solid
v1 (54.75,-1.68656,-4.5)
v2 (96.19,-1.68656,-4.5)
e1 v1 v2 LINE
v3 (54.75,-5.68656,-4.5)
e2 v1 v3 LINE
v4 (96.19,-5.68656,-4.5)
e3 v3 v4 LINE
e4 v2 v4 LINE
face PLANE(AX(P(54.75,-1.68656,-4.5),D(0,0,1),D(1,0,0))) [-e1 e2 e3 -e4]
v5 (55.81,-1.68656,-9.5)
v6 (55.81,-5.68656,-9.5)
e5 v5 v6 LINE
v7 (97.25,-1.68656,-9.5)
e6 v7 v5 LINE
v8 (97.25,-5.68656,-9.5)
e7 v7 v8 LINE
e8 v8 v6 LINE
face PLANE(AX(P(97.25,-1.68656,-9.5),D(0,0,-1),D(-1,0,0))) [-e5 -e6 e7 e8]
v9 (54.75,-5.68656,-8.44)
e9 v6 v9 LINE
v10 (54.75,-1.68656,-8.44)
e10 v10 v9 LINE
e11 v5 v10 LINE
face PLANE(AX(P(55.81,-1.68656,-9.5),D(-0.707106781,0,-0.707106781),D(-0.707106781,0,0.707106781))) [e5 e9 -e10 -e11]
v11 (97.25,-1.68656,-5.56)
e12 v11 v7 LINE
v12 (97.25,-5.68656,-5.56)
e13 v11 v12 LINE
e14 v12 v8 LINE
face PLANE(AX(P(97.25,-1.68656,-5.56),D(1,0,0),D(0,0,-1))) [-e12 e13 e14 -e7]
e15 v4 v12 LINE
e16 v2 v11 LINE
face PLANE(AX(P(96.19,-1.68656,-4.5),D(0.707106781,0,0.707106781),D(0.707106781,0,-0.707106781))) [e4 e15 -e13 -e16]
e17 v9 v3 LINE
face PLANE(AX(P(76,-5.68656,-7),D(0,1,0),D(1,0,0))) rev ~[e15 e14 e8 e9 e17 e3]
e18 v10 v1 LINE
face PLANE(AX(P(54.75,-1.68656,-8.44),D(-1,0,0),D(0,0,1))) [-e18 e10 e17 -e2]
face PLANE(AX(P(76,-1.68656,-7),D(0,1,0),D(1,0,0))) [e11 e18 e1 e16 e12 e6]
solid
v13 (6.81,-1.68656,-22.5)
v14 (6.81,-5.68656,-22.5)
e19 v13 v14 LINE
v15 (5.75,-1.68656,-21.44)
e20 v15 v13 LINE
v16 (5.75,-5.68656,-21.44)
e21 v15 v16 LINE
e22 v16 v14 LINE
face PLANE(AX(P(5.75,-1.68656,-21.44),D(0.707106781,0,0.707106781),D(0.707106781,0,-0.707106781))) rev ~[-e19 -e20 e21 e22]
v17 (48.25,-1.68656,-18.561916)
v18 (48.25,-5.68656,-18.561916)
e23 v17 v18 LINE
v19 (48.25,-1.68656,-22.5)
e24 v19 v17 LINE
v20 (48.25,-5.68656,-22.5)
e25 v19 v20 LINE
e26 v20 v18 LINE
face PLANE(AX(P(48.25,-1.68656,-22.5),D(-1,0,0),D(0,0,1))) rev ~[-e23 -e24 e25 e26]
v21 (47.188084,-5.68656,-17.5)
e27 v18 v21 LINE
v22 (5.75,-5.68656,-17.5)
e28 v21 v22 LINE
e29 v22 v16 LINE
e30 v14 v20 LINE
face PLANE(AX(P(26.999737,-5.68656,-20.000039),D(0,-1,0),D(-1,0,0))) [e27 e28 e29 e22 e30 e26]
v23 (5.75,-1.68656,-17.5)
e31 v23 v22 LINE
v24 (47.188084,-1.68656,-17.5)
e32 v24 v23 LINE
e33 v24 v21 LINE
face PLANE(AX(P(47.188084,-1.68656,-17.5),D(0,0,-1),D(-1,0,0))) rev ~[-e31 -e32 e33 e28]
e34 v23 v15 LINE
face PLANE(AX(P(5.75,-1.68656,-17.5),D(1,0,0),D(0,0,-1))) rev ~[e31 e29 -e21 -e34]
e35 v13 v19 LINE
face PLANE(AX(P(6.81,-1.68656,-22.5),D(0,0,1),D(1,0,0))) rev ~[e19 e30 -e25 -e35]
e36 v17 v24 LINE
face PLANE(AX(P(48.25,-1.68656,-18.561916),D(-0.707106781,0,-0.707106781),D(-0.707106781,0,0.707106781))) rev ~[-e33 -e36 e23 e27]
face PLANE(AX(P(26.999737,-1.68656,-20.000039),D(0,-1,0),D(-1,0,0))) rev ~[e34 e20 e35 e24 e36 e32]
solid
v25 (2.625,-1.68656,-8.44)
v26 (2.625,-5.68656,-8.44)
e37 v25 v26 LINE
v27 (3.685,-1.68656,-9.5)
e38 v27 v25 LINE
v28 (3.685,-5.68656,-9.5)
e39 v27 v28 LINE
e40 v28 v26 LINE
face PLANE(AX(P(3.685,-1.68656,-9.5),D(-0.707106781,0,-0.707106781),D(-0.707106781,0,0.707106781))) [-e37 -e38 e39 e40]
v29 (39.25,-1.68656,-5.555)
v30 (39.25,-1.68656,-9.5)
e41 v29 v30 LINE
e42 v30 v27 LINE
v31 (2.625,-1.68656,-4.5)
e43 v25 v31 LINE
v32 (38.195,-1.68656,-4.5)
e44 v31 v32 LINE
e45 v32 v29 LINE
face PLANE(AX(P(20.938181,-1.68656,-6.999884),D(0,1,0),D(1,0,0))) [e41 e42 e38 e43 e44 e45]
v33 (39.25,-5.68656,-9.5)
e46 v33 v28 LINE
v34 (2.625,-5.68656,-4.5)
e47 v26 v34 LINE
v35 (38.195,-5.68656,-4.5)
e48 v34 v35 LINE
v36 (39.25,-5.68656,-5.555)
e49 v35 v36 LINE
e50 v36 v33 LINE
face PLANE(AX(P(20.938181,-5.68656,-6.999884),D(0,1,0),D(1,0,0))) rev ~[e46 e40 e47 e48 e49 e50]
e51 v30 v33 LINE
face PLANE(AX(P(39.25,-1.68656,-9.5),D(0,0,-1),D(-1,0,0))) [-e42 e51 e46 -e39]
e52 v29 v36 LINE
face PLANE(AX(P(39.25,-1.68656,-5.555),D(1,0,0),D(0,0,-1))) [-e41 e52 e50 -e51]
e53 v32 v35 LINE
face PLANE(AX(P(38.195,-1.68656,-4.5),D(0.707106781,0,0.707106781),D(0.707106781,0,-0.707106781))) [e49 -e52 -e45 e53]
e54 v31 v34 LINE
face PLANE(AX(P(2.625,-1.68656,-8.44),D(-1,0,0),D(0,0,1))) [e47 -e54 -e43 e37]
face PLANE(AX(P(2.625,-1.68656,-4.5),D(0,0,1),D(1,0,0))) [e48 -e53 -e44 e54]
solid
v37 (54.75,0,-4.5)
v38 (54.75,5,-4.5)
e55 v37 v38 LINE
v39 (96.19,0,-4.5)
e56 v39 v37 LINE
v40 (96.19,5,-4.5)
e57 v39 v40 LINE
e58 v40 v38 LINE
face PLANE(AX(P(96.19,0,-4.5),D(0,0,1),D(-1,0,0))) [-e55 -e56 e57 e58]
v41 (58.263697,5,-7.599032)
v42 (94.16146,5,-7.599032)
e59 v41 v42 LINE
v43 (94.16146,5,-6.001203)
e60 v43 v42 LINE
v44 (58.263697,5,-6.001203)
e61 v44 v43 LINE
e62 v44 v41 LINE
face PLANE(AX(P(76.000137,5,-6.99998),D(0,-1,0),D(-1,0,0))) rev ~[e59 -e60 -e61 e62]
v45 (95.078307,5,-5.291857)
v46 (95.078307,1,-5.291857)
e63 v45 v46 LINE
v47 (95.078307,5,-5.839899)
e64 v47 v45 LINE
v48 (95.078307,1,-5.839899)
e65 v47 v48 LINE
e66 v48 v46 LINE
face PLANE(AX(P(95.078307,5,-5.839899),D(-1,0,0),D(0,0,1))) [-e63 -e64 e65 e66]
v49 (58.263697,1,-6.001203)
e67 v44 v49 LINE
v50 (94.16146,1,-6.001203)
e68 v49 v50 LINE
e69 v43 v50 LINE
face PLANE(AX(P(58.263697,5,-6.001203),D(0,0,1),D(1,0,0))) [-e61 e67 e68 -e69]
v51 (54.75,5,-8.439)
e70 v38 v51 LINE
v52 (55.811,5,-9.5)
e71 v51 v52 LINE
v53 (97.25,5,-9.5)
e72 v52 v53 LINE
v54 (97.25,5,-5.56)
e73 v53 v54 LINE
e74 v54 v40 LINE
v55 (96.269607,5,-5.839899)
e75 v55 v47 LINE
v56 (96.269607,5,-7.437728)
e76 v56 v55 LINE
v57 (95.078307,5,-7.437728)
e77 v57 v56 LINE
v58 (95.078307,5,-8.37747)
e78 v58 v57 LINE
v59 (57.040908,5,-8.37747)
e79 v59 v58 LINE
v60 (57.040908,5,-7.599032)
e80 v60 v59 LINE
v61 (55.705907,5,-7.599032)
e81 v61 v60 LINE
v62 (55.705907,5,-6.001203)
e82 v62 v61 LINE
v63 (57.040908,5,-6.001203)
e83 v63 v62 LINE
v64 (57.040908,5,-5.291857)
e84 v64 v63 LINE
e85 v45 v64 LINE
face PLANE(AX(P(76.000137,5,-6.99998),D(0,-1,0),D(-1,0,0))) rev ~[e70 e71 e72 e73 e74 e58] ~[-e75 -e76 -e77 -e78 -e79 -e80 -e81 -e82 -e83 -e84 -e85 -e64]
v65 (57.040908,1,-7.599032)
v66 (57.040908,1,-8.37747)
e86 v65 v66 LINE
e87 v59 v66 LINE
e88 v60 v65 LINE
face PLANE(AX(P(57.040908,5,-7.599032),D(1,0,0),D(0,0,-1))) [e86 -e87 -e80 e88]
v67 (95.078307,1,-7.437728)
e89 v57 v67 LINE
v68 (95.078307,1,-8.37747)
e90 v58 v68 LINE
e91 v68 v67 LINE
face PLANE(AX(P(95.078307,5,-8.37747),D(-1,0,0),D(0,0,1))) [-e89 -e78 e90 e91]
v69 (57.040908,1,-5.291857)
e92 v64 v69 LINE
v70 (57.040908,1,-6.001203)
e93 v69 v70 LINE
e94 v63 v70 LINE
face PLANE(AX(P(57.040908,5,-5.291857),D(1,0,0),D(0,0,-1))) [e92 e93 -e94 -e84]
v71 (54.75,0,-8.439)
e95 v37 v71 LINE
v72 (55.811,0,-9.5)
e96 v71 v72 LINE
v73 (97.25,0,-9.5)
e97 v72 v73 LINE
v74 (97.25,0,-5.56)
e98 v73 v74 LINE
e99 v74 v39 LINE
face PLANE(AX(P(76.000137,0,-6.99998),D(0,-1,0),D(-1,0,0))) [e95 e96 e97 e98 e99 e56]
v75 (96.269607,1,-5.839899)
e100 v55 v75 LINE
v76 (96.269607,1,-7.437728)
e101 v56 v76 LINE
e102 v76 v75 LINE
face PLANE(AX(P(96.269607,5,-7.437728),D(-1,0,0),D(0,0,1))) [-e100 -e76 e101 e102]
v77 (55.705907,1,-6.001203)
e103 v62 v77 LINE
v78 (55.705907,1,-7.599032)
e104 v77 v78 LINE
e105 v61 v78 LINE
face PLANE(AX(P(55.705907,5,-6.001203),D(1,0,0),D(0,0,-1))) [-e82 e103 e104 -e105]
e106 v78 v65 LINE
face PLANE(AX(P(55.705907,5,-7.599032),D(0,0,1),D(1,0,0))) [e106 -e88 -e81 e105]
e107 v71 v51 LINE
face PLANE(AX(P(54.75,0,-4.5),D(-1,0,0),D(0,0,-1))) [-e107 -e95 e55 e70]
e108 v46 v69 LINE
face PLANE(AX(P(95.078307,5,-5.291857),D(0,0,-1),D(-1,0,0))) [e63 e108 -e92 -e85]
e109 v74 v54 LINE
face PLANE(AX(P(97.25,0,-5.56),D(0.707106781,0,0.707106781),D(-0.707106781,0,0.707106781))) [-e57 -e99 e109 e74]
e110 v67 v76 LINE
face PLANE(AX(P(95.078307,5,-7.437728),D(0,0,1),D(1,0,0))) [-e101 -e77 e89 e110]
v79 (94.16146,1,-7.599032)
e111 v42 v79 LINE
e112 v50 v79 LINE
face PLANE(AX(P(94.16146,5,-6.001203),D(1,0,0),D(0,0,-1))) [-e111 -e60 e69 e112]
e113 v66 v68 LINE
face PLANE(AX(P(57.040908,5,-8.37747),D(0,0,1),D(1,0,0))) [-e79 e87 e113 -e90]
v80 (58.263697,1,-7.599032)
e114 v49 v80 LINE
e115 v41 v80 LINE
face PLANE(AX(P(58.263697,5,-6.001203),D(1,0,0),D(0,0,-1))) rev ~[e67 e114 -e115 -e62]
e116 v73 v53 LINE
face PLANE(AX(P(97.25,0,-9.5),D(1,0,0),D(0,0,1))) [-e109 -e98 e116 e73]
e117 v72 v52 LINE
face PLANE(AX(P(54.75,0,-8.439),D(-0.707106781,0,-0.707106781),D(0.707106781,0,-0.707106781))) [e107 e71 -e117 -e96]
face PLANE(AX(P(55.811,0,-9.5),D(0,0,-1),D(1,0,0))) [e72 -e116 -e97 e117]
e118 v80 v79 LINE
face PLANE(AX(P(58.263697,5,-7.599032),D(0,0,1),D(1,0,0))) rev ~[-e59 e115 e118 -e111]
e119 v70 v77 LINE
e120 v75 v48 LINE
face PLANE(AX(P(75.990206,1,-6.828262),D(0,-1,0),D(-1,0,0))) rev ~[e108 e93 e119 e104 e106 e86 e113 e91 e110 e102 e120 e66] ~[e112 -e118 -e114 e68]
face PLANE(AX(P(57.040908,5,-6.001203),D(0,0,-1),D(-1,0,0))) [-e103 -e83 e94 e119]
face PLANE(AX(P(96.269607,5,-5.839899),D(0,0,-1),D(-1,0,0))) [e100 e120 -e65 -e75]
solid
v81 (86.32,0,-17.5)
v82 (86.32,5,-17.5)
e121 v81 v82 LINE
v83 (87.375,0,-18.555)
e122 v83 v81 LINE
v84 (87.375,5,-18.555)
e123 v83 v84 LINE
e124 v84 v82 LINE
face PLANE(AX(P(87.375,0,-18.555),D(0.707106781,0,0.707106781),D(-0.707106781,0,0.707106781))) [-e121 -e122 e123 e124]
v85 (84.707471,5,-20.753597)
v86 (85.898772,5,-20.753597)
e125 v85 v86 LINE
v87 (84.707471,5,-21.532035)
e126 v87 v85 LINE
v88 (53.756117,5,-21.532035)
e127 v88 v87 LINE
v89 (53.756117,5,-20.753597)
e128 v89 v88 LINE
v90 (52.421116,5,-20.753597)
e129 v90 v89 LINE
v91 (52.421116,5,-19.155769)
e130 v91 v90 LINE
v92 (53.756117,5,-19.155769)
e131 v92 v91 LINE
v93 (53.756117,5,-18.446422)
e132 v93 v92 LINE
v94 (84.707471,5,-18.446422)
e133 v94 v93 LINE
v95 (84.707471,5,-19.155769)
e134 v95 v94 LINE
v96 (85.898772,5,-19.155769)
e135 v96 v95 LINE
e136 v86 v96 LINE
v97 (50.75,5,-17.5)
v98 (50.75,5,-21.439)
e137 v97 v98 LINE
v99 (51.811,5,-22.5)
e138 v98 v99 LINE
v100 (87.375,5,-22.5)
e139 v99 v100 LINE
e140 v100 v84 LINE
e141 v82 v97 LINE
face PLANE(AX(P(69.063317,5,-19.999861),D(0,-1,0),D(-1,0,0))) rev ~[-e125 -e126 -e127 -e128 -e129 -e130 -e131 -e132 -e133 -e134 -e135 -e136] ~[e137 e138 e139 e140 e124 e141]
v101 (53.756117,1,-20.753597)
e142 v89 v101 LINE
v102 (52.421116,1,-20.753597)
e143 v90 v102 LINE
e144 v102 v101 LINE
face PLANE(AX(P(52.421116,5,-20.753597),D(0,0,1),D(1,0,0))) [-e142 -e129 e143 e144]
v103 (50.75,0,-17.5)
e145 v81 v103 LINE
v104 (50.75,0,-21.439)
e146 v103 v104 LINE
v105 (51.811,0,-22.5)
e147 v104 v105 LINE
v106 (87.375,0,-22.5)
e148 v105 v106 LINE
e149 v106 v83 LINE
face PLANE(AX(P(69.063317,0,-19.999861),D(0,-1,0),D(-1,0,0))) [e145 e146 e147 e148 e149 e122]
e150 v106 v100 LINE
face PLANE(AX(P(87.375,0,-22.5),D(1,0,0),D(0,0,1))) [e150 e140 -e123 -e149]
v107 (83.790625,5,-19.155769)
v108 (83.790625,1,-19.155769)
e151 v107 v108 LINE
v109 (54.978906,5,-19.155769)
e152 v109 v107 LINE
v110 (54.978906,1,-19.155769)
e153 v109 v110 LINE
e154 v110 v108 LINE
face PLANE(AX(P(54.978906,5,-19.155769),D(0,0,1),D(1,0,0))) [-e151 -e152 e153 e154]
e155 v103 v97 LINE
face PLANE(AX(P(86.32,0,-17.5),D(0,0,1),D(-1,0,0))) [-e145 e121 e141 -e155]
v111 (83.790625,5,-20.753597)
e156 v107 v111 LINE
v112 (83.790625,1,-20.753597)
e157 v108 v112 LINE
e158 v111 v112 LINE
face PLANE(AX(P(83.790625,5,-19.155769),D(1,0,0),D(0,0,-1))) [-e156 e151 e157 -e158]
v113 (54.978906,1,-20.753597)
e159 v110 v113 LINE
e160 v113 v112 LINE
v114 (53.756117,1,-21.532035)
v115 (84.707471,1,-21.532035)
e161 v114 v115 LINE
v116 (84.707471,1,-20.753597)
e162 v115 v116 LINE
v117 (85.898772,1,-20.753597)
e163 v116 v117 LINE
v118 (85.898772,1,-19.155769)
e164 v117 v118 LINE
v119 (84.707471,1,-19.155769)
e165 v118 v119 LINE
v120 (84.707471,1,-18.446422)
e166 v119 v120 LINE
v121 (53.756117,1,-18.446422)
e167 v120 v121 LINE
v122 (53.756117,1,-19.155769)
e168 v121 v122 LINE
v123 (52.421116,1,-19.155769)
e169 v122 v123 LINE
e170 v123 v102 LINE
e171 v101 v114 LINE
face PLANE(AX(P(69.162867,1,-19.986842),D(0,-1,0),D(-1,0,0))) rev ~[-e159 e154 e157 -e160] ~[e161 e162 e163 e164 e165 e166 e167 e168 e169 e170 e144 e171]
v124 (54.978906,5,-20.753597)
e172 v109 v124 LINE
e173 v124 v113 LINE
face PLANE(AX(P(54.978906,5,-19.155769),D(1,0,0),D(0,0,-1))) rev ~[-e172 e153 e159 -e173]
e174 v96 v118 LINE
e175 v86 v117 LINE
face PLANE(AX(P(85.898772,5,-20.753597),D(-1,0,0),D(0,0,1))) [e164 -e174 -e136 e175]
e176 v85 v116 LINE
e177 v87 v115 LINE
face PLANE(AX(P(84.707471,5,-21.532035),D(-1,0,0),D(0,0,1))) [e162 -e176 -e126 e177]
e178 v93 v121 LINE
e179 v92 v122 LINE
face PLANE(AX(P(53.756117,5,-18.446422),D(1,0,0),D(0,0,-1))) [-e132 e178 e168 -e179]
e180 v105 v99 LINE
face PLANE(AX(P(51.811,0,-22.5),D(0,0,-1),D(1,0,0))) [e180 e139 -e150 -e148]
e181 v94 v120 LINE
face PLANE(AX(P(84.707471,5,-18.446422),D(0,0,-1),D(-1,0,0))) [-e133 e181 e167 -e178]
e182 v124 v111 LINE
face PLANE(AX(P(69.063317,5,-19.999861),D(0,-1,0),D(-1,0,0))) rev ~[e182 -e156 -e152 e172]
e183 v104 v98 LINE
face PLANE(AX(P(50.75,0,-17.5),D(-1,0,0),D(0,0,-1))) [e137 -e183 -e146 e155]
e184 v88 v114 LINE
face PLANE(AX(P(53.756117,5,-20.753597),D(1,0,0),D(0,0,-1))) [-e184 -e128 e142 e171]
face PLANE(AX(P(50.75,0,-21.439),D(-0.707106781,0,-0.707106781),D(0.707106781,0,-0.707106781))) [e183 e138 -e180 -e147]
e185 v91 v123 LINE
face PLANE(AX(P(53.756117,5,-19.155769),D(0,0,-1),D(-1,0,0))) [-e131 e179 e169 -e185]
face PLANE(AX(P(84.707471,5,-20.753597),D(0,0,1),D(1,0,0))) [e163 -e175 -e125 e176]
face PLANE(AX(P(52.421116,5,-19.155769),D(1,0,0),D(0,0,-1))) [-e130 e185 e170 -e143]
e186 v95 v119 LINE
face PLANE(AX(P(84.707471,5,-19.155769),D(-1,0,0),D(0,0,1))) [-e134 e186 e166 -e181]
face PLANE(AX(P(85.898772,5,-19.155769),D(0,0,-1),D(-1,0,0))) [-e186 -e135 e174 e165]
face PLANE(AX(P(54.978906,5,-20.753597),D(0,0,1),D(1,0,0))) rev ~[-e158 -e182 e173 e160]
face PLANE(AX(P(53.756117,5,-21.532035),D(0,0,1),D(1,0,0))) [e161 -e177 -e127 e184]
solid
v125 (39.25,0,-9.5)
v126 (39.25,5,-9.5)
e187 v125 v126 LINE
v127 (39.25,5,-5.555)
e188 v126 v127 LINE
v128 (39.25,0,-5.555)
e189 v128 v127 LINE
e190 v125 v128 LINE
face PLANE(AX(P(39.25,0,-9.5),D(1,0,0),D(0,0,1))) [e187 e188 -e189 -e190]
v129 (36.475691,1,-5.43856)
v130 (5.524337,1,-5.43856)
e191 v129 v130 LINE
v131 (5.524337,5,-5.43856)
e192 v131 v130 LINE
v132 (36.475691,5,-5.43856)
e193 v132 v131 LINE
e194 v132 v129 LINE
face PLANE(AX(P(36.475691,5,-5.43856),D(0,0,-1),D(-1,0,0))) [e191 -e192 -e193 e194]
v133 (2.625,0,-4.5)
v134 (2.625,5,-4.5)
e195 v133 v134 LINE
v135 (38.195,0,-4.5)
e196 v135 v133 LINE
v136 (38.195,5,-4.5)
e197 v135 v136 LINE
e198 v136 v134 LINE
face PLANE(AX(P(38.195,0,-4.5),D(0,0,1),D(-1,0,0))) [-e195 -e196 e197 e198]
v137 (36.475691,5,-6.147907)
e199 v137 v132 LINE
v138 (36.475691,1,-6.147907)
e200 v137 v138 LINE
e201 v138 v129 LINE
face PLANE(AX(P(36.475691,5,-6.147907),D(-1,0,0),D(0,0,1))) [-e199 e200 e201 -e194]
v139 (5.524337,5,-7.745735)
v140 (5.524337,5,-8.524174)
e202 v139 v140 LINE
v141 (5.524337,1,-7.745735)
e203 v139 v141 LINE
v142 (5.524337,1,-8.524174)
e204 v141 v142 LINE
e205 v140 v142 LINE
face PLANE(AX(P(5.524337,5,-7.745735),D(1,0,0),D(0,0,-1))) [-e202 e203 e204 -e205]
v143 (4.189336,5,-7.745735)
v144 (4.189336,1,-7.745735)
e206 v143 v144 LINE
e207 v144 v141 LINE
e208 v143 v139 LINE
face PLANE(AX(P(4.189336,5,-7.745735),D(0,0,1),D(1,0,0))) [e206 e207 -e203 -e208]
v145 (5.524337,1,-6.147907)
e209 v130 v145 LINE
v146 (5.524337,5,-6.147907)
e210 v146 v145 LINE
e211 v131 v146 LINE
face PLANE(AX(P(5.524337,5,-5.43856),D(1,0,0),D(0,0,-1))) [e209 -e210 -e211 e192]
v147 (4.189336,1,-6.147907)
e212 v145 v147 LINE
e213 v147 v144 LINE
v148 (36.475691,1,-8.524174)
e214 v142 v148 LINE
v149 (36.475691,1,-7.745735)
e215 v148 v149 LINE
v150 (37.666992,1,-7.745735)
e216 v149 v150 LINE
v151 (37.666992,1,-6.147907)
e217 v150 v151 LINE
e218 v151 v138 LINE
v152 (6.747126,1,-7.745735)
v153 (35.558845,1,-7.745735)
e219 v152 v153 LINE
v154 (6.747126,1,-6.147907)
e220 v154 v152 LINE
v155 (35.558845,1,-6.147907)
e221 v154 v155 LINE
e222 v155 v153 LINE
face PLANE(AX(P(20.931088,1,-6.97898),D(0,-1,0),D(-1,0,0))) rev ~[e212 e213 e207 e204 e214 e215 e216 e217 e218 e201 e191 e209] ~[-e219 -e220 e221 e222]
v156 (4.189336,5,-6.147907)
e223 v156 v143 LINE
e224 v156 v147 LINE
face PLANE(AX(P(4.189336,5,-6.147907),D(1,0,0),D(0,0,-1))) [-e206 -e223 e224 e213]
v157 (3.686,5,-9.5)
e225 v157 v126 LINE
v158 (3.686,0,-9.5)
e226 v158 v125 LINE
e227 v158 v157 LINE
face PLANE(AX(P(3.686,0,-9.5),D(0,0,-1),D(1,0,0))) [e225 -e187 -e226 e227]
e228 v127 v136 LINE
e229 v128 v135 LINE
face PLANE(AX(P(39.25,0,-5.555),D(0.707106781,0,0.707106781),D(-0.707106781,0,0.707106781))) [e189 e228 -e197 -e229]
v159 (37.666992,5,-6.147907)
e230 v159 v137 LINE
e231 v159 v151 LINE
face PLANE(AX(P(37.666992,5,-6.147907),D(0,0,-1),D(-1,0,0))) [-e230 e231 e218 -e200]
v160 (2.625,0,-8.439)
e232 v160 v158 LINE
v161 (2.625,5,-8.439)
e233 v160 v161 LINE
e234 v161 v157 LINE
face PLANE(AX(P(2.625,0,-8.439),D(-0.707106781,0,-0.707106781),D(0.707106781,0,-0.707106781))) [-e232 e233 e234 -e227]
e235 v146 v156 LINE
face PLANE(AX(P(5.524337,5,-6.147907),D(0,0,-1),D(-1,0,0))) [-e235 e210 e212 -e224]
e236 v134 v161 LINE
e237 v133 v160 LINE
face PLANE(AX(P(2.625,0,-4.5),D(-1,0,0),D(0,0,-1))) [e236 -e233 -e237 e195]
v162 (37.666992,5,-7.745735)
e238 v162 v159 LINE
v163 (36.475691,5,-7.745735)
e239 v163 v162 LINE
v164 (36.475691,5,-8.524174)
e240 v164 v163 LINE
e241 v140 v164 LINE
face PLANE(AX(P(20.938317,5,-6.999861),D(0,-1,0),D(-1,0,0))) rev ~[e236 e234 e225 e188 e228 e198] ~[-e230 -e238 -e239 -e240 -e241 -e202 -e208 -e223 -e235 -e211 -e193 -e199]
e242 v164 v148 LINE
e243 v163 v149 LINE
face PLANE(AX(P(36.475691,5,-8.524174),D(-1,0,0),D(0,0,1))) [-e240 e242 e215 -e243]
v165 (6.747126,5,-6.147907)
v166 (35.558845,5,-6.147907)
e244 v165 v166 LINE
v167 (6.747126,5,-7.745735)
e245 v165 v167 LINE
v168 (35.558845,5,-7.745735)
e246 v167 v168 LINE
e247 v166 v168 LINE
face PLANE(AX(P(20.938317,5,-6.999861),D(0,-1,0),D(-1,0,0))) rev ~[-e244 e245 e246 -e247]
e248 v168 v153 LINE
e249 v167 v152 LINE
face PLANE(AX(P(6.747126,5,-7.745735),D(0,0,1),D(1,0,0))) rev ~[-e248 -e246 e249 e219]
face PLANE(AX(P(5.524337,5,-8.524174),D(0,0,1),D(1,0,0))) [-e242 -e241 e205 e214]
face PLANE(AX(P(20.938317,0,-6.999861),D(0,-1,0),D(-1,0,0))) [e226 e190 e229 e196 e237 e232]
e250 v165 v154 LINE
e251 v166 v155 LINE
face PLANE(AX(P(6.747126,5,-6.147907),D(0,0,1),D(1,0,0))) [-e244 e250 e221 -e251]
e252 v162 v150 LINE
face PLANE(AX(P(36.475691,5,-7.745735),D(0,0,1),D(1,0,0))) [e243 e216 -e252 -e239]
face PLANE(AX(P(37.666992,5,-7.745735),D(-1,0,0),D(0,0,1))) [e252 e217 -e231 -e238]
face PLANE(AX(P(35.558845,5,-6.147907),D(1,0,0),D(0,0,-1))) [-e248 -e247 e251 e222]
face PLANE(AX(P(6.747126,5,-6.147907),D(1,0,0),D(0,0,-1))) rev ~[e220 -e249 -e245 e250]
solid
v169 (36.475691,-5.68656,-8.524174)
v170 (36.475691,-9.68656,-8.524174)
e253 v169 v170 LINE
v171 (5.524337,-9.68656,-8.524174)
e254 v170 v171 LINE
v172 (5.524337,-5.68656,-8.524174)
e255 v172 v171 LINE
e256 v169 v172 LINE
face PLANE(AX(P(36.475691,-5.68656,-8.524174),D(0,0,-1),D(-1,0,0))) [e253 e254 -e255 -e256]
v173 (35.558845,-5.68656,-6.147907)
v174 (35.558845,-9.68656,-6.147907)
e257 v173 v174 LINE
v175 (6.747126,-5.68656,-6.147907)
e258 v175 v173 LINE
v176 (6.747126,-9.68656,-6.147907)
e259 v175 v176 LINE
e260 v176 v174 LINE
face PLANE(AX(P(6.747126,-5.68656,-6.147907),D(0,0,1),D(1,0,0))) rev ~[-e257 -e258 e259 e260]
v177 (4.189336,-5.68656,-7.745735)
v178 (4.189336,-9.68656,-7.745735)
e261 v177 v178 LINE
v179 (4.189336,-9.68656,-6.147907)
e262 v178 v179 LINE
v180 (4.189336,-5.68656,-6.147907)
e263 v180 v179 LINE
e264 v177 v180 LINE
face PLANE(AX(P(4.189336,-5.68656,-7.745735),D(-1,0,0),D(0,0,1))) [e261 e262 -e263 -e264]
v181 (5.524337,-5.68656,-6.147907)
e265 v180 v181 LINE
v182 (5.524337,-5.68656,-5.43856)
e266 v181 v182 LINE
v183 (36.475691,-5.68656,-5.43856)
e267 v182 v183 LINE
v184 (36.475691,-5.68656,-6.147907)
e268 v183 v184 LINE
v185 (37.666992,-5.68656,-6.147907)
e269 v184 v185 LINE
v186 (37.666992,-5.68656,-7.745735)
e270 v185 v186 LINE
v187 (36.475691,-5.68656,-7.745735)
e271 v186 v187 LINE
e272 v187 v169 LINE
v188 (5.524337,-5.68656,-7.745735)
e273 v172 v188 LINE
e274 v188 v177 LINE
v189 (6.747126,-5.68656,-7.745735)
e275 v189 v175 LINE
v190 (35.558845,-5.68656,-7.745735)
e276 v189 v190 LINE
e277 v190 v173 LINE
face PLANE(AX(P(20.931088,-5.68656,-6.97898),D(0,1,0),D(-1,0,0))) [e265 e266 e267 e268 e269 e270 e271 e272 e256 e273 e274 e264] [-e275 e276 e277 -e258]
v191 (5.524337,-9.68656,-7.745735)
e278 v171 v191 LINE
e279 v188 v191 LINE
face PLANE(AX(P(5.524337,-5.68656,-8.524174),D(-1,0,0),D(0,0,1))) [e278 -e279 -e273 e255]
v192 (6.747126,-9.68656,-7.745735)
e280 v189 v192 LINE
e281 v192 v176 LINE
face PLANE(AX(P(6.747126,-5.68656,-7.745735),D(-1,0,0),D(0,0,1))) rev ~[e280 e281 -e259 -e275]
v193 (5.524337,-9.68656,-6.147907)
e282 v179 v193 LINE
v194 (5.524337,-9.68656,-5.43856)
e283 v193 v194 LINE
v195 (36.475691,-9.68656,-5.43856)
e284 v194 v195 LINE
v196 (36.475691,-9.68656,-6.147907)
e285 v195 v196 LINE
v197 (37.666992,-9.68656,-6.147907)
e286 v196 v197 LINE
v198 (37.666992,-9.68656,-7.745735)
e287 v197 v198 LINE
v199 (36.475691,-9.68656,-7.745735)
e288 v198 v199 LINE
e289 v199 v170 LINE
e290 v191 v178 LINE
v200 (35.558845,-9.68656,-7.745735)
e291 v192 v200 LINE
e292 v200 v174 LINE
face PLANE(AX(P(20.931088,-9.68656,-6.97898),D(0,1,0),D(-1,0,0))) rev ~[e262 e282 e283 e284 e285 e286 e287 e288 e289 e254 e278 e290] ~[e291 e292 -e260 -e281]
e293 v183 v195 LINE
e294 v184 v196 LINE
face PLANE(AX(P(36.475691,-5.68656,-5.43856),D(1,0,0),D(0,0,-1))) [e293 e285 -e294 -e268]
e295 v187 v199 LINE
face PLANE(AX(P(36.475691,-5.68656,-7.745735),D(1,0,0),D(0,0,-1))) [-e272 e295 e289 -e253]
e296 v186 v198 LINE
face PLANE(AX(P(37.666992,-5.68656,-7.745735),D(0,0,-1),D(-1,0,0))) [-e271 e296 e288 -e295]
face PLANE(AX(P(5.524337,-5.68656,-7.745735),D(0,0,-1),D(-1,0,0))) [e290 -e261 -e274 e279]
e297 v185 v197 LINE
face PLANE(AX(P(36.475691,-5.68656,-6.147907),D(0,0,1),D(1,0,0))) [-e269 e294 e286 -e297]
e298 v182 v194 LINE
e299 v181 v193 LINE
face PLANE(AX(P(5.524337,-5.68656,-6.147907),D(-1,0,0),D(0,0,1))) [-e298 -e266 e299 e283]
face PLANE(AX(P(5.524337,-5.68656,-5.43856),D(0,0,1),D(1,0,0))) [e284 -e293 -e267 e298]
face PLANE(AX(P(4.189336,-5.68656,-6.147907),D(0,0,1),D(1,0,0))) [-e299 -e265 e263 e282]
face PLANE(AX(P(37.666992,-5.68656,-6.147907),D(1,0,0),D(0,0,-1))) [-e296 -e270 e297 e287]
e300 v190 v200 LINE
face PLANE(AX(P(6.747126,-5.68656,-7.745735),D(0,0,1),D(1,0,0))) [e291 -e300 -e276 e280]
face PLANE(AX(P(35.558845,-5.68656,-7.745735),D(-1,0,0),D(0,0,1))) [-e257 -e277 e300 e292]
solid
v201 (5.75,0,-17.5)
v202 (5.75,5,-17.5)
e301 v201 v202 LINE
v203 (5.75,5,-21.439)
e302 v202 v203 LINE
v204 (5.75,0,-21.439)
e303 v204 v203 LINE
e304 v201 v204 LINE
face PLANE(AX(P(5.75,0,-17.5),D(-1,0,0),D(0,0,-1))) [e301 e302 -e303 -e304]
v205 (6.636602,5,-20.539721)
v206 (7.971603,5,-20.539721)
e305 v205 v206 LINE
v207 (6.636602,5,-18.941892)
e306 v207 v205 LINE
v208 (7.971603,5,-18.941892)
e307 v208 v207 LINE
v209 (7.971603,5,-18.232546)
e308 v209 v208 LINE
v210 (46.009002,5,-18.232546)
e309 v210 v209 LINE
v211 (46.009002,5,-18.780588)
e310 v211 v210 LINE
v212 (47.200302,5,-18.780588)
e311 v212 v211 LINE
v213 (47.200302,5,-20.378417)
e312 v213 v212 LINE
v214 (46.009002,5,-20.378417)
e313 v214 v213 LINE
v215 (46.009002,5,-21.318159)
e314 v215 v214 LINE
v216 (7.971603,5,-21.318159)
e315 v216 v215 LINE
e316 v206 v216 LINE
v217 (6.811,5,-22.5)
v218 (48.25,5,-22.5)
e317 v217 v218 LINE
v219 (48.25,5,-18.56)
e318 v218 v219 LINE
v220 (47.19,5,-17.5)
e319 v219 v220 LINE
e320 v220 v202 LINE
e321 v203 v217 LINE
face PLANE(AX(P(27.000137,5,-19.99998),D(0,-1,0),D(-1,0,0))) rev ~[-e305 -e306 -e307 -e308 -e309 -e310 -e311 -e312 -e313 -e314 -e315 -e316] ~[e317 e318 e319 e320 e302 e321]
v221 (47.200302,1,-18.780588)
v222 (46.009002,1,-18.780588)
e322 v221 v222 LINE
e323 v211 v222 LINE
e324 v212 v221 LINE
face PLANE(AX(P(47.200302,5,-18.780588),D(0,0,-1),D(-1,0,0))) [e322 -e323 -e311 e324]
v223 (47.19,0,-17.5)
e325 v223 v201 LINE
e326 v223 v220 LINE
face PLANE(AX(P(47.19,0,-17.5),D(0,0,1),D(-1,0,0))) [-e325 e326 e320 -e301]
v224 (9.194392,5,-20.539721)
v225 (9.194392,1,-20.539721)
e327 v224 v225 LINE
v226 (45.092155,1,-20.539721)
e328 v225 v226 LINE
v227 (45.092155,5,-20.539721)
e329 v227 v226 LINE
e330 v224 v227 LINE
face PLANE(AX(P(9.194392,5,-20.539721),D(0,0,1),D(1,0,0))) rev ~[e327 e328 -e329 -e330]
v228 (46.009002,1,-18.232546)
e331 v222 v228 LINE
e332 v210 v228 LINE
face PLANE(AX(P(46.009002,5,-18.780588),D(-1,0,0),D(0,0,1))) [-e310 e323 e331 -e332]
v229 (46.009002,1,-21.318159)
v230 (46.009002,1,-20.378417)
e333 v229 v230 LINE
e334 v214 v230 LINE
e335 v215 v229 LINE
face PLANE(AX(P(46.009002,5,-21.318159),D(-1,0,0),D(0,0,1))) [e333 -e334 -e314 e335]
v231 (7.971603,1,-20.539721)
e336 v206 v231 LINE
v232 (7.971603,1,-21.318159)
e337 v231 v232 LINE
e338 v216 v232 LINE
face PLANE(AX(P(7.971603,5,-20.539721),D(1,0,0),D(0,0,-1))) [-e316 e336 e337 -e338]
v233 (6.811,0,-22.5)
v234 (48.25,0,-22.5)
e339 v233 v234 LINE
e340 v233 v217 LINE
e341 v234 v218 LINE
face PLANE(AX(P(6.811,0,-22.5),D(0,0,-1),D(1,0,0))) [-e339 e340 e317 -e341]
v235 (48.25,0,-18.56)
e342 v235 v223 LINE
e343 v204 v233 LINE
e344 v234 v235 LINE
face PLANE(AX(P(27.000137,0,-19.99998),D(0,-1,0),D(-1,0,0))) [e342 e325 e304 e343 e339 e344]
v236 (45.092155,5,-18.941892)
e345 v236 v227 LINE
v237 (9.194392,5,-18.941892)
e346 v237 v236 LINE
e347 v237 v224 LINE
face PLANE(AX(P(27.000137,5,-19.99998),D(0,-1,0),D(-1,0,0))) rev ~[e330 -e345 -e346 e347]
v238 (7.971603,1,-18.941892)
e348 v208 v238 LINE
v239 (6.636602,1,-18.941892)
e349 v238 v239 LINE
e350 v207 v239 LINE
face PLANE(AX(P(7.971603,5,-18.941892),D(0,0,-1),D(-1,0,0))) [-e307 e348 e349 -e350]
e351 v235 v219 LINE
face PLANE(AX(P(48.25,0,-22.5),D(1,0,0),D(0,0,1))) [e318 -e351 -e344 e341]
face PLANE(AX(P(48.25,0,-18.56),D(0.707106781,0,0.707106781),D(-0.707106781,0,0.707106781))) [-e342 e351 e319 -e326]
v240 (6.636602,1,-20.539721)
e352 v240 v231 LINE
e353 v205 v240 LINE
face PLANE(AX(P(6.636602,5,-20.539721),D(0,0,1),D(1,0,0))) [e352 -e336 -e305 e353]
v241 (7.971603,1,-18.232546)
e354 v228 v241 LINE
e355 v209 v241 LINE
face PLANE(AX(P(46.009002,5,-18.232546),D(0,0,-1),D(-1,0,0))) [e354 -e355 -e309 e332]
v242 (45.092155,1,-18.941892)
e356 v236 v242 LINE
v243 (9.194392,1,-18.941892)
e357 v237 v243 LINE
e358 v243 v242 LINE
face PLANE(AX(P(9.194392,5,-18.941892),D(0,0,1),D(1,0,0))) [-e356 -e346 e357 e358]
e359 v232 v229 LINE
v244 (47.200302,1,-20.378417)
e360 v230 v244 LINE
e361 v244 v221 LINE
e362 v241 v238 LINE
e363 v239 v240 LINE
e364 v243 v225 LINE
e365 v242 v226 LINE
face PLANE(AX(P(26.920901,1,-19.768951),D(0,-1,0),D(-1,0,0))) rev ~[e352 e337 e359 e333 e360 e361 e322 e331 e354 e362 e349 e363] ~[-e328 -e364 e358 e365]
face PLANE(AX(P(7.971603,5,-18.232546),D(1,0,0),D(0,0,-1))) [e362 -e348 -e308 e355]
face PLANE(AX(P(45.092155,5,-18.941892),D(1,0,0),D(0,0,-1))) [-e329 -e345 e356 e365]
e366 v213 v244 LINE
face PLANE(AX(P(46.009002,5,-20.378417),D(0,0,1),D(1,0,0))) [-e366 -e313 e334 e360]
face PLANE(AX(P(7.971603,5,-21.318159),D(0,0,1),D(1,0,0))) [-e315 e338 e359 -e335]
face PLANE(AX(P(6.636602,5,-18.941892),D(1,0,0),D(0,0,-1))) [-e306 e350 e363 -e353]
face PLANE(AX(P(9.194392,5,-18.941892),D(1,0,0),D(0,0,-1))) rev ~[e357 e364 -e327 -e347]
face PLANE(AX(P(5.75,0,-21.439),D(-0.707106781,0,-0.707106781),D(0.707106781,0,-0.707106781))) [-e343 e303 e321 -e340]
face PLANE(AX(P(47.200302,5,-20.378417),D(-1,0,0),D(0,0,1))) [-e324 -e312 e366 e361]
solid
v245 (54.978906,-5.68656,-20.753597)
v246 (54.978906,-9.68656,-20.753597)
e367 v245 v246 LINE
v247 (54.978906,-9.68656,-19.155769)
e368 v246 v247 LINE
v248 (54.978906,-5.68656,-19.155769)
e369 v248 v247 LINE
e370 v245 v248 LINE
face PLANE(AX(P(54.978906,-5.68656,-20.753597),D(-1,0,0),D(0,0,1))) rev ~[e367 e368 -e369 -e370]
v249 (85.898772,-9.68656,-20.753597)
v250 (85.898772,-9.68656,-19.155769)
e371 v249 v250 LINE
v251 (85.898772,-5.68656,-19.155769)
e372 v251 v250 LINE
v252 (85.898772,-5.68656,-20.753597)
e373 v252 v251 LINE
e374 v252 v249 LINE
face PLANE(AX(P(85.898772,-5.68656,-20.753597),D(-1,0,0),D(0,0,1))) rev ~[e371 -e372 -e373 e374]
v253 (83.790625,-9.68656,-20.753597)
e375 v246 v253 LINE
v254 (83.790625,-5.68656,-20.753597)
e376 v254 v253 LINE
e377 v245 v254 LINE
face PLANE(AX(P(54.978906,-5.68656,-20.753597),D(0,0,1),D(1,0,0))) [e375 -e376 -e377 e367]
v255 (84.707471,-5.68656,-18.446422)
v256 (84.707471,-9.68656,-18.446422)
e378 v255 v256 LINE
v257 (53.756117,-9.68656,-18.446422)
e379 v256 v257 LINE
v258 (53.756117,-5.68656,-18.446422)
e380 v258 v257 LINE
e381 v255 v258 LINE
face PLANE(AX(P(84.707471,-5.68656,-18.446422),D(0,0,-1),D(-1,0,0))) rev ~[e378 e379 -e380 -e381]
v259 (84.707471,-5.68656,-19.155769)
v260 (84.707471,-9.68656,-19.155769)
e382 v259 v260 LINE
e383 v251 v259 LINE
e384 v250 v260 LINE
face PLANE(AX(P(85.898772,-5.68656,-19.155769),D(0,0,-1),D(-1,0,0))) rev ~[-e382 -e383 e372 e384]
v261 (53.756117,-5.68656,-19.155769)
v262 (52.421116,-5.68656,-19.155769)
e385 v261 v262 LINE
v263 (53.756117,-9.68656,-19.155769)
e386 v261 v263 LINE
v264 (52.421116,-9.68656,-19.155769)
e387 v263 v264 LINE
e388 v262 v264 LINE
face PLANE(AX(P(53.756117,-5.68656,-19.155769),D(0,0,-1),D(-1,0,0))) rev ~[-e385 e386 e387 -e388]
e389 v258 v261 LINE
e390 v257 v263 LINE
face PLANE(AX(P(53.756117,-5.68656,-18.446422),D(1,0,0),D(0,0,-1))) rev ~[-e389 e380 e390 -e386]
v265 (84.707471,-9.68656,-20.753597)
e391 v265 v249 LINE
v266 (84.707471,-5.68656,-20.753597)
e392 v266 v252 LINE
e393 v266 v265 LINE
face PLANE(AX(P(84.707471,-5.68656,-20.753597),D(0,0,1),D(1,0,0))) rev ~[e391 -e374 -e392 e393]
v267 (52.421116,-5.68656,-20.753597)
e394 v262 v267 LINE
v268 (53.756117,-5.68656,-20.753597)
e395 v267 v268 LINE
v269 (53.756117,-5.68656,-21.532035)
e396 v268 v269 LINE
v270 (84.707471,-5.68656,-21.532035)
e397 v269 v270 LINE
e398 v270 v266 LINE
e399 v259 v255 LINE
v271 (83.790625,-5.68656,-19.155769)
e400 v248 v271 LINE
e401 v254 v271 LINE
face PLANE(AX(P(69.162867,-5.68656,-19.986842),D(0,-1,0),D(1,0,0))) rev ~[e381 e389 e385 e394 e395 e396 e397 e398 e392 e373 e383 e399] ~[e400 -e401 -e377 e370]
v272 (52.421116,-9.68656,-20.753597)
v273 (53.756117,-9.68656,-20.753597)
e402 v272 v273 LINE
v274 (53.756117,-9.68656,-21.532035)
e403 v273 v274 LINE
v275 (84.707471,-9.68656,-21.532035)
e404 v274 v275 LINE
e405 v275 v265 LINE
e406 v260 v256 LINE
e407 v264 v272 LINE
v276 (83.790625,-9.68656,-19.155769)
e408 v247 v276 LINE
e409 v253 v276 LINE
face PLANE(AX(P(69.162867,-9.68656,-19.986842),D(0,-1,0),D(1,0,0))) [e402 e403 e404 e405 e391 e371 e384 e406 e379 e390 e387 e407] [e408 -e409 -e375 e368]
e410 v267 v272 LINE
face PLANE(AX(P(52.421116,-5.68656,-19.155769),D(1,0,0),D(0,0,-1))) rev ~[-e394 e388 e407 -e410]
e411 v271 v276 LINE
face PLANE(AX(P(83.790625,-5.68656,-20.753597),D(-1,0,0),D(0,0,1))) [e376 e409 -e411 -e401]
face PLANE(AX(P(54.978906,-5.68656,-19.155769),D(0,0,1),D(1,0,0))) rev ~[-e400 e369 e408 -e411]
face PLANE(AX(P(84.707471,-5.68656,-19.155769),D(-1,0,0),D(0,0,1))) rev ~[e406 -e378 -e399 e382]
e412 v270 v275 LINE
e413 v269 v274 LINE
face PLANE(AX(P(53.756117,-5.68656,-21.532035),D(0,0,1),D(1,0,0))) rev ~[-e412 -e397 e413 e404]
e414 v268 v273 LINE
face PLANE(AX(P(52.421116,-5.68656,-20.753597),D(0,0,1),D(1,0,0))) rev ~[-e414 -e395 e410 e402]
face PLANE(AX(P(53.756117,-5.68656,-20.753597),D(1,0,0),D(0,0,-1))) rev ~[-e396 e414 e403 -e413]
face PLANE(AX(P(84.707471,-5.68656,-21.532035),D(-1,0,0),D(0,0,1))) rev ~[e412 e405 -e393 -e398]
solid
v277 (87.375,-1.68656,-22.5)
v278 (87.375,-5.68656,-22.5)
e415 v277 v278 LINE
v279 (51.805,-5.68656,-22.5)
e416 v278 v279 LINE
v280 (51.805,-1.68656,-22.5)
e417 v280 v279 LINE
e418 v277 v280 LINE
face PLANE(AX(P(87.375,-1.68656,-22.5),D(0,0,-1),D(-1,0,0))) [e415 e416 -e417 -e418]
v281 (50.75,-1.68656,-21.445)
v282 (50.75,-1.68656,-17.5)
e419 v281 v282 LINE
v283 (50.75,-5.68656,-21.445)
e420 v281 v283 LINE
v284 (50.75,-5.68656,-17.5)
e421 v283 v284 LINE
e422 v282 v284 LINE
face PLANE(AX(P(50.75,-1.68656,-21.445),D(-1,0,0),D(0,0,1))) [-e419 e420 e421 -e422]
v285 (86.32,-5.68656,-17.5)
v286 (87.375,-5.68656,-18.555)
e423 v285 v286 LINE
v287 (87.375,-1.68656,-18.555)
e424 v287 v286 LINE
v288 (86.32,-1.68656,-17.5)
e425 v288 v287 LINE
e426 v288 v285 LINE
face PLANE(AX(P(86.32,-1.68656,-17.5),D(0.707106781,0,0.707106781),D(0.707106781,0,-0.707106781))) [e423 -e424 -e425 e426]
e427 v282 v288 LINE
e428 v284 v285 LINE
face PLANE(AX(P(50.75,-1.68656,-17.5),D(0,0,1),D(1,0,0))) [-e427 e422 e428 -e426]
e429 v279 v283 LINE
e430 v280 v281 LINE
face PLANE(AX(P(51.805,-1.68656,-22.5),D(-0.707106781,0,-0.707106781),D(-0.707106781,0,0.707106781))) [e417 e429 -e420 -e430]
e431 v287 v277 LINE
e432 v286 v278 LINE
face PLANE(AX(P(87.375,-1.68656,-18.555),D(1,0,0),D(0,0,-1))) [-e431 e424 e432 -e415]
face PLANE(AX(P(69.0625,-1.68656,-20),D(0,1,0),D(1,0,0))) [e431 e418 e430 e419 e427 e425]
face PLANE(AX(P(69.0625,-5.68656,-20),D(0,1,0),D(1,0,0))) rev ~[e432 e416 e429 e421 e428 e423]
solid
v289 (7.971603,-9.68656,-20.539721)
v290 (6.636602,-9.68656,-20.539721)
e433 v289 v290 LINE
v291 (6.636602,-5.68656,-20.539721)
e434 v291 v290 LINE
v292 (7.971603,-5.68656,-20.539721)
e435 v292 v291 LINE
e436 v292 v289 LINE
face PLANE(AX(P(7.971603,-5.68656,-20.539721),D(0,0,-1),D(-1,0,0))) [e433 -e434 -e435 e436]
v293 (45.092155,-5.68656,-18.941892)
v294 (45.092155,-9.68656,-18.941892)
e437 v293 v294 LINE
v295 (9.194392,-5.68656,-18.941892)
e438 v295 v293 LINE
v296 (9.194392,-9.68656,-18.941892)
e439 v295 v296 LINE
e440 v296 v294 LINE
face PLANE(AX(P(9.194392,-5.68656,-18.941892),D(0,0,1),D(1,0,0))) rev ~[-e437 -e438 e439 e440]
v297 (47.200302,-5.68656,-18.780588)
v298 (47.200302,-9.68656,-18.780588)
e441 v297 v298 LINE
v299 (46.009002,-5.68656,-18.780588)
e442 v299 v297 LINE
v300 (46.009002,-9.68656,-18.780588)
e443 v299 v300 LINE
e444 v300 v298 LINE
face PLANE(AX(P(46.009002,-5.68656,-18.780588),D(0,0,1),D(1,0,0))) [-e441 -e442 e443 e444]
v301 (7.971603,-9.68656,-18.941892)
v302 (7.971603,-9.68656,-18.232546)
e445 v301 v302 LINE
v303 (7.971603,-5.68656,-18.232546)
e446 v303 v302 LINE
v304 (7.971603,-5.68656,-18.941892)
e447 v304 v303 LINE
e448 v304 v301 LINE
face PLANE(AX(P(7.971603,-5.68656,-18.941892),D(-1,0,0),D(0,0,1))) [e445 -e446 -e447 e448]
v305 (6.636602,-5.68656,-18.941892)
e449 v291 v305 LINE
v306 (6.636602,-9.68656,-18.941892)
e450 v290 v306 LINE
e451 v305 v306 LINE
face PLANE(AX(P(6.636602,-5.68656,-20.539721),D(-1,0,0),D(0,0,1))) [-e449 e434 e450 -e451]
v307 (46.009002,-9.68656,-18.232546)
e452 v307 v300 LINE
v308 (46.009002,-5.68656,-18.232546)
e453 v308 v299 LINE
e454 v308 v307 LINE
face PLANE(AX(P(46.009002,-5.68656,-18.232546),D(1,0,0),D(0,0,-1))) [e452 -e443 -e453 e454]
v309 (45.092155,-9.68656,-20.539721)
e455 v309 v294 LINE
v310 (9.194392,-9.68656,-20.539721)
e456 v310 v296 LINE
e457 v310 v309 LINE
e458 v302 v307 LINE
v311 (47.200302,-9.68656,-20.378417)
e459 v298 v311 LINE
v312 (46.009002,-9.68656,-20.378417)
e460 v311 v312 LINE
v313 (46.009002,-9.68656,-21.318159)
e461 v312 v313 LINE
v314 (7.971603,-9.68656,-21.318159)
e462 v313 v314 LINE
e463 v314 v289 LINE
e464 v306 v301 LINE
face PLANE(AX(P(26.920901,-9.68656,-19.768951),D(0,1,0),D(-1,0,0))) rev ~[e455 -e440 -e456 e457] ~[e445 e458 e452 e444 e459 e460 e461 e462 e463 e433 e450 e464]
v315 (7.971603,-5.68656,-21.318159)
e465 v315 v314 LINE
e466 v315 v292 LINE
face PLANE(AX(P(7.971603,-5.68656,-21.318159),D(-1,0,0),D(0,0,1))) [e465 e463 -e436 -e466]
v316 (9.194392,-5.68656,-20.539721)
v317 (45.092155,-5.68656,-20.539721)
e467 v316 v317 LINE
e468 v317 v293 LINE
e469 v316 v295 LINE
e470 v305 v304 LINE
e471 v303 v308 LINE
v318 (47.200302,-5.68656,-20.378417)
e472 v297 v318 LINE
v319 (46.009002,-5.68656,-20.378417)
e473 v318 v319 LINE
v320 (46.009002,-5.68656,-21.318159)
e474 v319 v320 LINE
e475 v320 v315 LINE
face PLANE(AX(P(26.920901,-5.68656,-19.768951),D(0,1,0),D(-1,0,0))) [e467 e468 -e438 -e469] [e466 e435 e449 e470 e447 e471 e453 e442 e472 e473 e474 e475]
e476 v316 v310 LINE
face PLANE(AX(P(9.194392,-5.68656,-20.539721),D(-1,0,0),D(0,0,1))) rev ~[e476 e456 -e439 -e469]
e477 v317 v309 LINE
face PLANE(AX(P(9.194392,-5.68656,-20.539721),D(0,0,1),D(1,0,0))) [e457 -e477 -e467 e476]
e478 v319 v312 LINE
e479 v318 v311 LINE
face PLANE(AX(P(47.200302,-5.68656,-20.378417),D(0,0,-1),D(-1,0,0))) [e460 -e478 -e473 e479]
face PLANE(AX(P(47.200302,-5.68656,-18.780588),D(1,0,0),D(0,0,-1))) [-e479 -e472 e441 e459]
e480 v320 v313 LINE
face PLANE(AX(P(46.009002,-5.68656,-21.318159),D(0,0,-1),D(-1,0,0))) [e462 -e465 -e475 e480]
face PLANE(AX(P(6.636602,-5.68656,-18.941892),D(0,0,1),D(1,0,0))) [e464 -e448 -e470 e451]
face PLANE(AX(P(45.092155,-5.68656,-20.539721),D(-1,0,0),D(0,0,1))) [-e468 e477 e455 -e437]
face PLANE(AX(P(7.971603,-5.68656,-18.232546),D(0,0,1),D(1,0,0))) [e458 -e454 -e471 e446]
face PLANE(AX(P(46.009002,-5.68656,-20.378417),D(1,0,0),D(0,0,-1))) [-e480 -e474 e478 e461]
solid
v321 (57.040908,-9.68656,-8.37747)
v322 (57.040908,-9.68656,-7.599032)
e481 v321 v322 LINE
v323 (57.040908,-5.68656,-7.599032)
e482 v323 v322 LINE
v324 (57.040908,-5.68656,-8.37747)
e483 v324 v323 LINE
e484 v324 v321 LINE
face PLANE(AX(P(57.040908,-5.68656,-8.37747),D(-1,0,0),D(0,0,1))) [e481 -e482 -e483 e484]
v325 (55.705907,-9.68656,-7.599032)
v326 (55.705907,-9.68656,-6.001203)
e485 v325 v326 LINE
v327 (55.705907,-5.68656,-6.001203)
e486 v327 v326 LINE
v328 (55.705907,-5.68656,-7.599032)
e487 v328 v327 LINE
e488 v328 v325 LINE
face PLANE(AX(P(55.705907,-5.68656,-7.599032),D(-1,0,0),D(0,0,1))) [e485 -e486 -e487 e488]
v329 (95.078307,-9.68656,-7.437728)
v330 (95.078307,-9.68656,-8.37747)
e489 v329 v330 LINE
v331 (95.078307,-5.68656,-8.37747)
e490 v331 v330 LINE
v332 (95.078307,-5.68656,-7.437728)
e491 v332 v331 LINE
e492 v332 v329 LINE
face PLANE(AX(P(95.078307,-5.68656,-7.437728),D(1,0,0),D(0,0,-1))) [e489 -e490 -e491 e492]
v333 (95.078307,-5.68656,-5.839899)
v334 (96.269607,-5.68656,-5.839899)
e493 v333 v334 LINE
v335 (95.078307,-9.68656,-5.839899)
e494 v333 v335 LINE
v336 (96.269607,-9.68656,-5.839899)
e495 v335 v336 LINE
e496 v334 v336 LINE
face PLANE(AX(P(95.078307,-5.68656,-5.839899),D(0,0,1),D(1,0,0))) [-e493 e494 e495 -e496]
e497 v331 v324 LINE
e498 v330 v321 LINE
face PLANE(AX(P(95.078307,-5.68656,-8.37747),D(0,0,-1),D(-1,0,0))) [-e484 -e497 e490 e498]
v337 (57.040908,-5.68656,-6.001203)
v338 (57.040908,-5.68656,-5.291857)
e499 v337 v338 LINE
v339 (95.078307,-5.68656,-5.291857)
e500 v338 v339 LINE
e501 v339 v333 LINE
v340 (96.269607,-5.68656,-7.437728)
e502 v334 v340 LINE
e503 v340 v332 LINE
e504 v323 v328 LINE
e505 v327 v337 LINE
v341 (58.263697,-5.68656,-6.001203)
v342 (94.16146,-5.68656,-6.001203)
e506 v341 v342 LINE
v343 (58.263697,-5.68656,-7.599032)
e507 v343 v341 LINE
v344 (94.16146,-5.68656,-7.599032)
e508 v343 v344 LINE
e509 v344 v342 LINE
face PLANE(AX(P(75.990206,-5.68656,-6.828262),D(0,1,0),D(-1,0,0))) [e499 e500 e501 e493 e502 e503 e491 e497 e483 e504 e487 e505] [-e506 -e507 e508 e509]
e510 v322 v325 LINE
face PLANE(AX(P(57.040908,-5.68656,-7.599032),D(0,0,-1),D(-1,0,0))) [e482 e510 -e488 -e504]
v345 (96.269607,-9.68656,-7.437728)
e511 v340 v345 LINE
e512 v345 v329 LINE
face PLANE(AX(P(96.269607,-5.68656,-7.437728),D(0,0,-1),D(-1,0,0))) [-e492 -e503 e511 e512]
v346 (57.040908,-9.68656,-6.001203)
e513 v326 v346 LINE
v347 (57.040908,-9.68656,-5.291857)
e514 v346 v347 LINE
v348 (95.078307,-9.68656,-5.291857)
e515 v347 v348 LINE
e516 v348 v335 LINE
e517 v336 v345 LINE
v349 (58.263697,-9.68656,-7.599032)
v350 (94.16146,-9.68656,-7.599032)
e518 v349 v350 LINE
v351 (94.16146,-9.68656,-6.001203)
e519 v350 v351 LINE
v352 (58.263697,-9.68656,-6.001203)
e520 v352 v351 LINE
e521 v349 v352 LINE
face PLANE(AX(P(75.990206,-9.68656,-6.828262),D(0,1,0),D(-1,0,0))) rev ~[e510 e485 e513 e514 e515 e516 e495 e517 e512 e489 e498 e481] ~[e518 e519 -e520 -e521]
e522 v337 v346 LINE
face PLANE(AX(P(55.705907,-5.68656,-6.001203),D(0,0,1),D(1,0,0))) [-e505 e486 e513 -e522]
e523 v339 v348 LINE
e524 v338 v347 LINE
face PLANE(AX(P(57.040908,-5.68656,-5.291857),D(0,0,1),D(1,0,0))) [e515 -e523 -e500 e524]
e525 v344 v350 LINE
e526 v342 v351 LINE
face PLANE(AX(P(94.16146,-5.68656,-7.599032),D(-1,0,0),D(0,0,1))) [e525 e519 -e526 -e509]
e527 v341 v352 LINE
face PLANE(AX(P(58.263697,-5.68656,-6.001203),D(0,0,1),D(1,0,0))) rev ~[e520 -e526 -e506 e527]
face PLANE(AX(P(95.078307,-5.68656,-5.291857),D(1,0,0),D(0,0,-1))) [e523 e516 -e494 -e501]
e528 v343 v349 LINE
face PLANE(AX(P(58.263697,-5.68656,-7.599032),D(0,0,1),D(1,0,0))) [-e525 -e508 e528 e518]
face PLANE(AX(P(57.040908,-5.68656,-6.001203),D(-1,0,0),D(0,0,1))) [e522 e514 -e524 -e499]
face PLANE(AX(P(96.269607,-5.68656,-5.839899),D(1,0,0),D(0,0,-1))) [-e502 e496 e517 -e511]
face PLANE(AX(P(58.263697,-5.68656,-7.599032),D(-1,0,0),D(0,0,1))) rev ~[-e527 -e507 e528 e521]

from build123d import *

# Parameters (mm, degrees)
SV_DEPTH           = 5
SV_2_DEPTH         = 5
SV_3_DEPTH         = 5
SV_4_DEPTH         = 5
SKETCH3_W          = 28.811718275
SKETCH3_H          = 1.597828601
SKETCH3_W_2        = 35.897762959
SKETCH3_W_3        = 35.897762958
CUT_EXTRUDE1_DEPTH = 4
SV4_A_DEPTH        = 4
SV4_A_2_DEPTH      = 4
SV4_A_3_DEPTH      = 4
SV4_A_4_DEPTH      = 4
SKETCH7_W          = 35.897762958
SKETCH7_H          = 1.597828601
SV4_B_DEPTH        = 4
SKETCH7_W_2        = 28.811718275
SV4_B_2_DEPTH      = 4
SKETCH7_W_3        = 35.897762959
SV4_B_3_DEPTH      = 4
SV4_B_4_DEPTH      = 4


with BuildPart() as part:
    # Sketch1 → SV (new body)
    with BuildSketch(Plane(origin=(0, 0, 0), x_dir=(1, 0, 0), z_dir=(0, 1, 0))):
        Polygon((55.811, 9.5), (97.25, 9.5), (97.25, 5.56), (96.19, 4.5), (54.75, 4.5), (54.75, 8.439), align=None)
    extrude(amount=SV_DEPTH)


with BuildPart() as body_2:
    # Sketch1 → SV 2 (new body)
    with BuildSketch(Plane(origin=(0, 0, 0), x_dir=(1, 0, 0), z_dir=(0, 1, 0))):
        Polygon((3.686, 9.5), (39.25, 9.5), (39.25, 5.555), (38.195, 4.5), (2.625, 4.5), (2.625, 8.439), align=None)
    extrude(amount=SV_2_DEPTH)


with BuildPart() as body_3:
    # Sketch1 → SV 3 (new body)
    with BuildSketch(Plane(origin=(0, 0, 0), x_dir=(1, 0, 0), z_dir=(0, 1, 0))):
        Polygon((51.811, 22.5), (87.375, 22.5), (87.375, 18.555), (86.32, 17.5), (50.75, 17.5), (50.75, 21.439), align=None)
    extrude(amount=SV_3_DEPTH)


with BuildPart() as body_4:
    # Sketch1 → SV 4 (new body)
    with BuildSketch(Plane(origin=(0, 0, 0), x_dir=(1, 0, 0), z_dir=(0, 1, 0))):
        Polygon((6.811, 22.5), (48.25, 22.5), (48.25, 18.56), (47.19, 17.5), (5.75, 17.5), (5.75, 21.439), align=None)
    extrude(amount=SV_4_DEPTH)


with BuildPart() as cut_extrude1_tool:
    # Sketch3 → Cut-Extrude1 (new body)
    with BuildSketch(Plane(origin=(0, 5, 0), x_dir=(1, 0, 0), z_dir=(0, 1, 0))):
        Polygon((4.189336253, 7.745735487), (5.524337048, 7.745735487), (5.524337048, 8.524173538), (36.475691419, 8.524173538), (36.475691419, 7.745735487), (37.666991912, 7.745735487), (37.666991912, 6.147906886), (36.475691419, 6.147906886), (36.475691419, 5.438560322), (5.524337048, 5.438560322), (5.524337048, 6.147906886), (4.189336253, 6.147906886), align=None)
        with Locations((21.152985591, 6.946821187)):
            Rectangle(SKETCH3_W, SKETCH3_H, mode=Mode.SUBTRACT)
        Polygon((52.421116037, 20.753597434), (53.756116831, 20.753597434), (53.756116831, 21.532035485), (84.707471203, 21.532035485), (84.707471203, 20.753597434), (85.898771695, 20.753597434), (85.898771695, 19.155768833), (84.707471203, 19.155768833), (84.707471203, 18.446422269), (53.756116831, 18.446422269), (53.756116831, 19.155768833), (52.421116037, 19.155768833), align=None)
        with Locations((69.384765375, 19.954683133)):
            Rectangle(SKETCH3_W, SKETCH3_H, mode=Mode.SUBTRACT)
        Polygon((55.705906871, 7.599031898), (57.040907666, 7.599031898), (57.040907666, 8.377469948), (95.07830672, 8.377469948), (95.07830672, 7.437727621), (96.269607213, 7.437727621), (96.269607213, 5.83989902), (95.07830672, 5.83989902), (95.07830672, 5.291856733), (57.040907666, 5.291856733), (57.040907666, 6.001203297), (55.705906871, 6.001203297), align=None)
        with Locations((76.21257855, 6.800117597)):
            Rectangle(SKETCH3_W_2, SKETCH3_H, mode=Mode.SUBTRACT)
        Polygon((6.636601859, 20.53972103), (7.971602653, 20.53972103), (7.971602653, 21.318159081), (46.009001708, 21.318159081), (46.009001708, 20.378416754), (47.2003022, 20.378416754), (47.2003022, 18.780588153), (46.009001708, 18.780588153), (46.009001708, 18.232545866), (7.971602653, 18.232545866), (7.971602653, 18.941892429), (6.636601859, 18.941892429), align=None)
        with Locations((27.143273538, 19.74080673)):
            Rectangle(SKETCH3_W_3, SKETCH3_H, mode=Mode.SUBTRACT)
    extrude(amount=-CUT_EXTRUDE1_DEPTH)


with BuildPart() as part_1:
    add(part.part)

    # Cut-Extrude1: cut by cut_extrude1_tool
    add(cut_extrude1_tool.part, mode=Mode.SUBTRACT)


with BuildPart() as body_2_1:
    add(body_2.part)

    # Cut-Extrude1: cut by cut_extrude1_tool
    add(cut_extrude1_tool.part, mode=Mode.SUBTRACT)


with BuildPart() as body_3_1:
    add(body_3.part)

    # Cut-Extrude1: cut by cut_extrude1_tool
    add(cut_extrude1_tool.part, mode=Mode.SUBTRACT)


with BuildPart() as body_4_1:
    add(body_4.part)

    # Cut-Extrude1: cut by cut_extrude1_tool
    add(cut_extrude1_tool.part, mode=Mode.SUBTRACT)


with BuildPart() as body_5:
    # Sketch6 → SV4(a) (new body)
    with BuildSketch(Plane(origin=(0, -1.68656, 0), x_dir=(1, 0, 0), z_dir=(0, 1, 0))):
        Polygon((2.625, 4.5), (38.195, 4.5), (39.25, 5.555), (39.25, 9.5), (3.685, 9.5), (2.625, 8.44), align=None)
    extrude(amount=-SV4_A_DEPTH)


with BuildPart() as body_6:
    # Sketch6 → SV4_a 2 (new body)
    with BuildSketch(Plane(origin=(0, -1.68656, 0), x_dir=(1, 0, 0), z_dir=(0, 1, 0))):
        Polygon((48.25, 18.56191605), (47.18808395, 17.5), (5.75, 17.5), (5.75, 21.44), (6.81, 22.5), (48.25, 22.5), align=None)
    extrude(amount=-SV4_A_2_DEPTH)


with BuildPart() as body_7:
    # Sketch6 → SV4_a 3 (new body)
    with BuildSketch(Plane(origin=(0, -1.68656, 0), x_dir=(1, 0, 0), z_dir=(0, 1, 0))):
        Polygon((54.75, 4.5), (96.19, 4.5), (97.25, 5.56), (97.25, 9.5), (55.81, 9.5), (54.75, 8.44), align=None)
    extrude(amount=-SV4_A_3_DEPTH)


with BuildPart() as body_8:
    # Sketch6 → SV4_a 4 (new body)
    with BuildSketch(Plane(origin=(0, -1.68656, 0), x_dir=(1, 0, 0), z_dir=(0, 1, 0))):
        Polygon((50.75, 17.5), (86.32, 17.5), (87.375, 18.555), (87.375, 22.5), (51.805, 22.5), (50.75, 21.445), align=None)
    extrude(amount=-SV4_A_4_DEPTH)


with BuildPart() as body_9:
    # Sketch7 → SV4(b) (new body)
    with BuildSketch(Plane.XZ.offset(5.68656)):
        Polygon((7.971602653, -21.318159081), (7.971602653, -20.53972103), (6.636601859, -20.53972103), (6.636601859, -18.941892429), (7.971602653, -18.941892429), (7.971602653, -18.232545866), (46.009001708, -18.232545866), (46.009001708, -18.780588153), (47.2003022, -18.780588153), (47.2003022, -20.378416754), (46.009001708, -20.378416754), (46.009001708, -21.318159081), align=None)
        with Locations((27.143273538, -19.74080673)):
            Rectangle(SKETCH7_W, SKETCH7_H, mode=Mode.SUBTRACT)
    extrude(amount=SV4_B_DEPTH)


with BuildPart() as body_10:
    # Sketch7 → SV4_b 2 (new body)
    with BuildSketch(Plane.XZ.offset(5.68656)):
        Polygon((53.756116831, -21.532035485), (84.707471203, -21.532035485), (84.707471203, -20.753597434), (85.898771695, -20.753597434), (85.898771695, -19.155768833), (84.707471203, -19.155768833), (84.707471203, -18.446422269), (53.756116831, -18.446422269), (53.756116831, -19.155768833), (52.421116037, -19.155768833), (52.421116037, -20.753597434), (53.756116831, -20.753597434), align=None)
        with Locations((69.384765375, -19.954683133)):
            Rectangle(SKETCH7_W_2, SKETCH7_H, mode=Mode.SUBTRACT)
    extrude(amount=SV4_B_2_DEPTH)


with BuildPart() as body_11:
    # Sketch7 → SV4_b 3 (new body)
    with BuildSketch(Plane.XZ.offset(5.68656)):
        Polygon((57.040907666, -8.377469948), (57.040907666, -7.599031898), (55.705906871, -7.599031898), (55.705906871, -6.001203297), (57.040907666, -6.001203297), (57.040907666, -5.291856733), (95.07830672, -5.291856733), (95.07830672, -5.83989902), (96.269607213, -5.83989902), (96.269607213, -7.437727621), (95.07830672, -7.437727621), (95.07830672, -8.377469948), align=None)
        with Locations((76.21257855, -6.800117597)):
            Rectangle(SKETCH7_W_3, SKETCH7_H, mode=Mode.SUBTRACT)
    extrude(amount=SV4_B_3_DEPTH)


with BuildPart() as body_12:
    # Sketch7 → SV4_b 4 (new body)
    with BuildSketch(Plane.XZ.offset(5.68656)):
        Polygon((4.189336253, -6.147906886), (5.524337048, -6.147906886), (5.524337048, -5.438560322), (36.475691419, -5.438560322), (36.475691419, -6.147906886), (37.666991912, -6.147906886), (37.666991912, -7.745735487), (36.475691419, -7.745735487), (36.475691419, -8.524173538), (5.524337048, -8.524173538), (5.524337048, -7.745735487), (4.189336253, -7.745735487), align=None)
        with Locations((21.152985591, -6.946821187)):
            Rectangle(SKETCH7_W_2, SKETCH7_H, mode=Mode.SUBTRACT)
    extrude(amount=SV4_B_4_DEPTH)


solid = Compound([part_1.part, body_2_1.part, body_3_1.part, body_4_1.part, body_5.part, body_6.part, body_7.part, body_8.part, body_9.part, body_10.part, body_11.part, body_12.part])
